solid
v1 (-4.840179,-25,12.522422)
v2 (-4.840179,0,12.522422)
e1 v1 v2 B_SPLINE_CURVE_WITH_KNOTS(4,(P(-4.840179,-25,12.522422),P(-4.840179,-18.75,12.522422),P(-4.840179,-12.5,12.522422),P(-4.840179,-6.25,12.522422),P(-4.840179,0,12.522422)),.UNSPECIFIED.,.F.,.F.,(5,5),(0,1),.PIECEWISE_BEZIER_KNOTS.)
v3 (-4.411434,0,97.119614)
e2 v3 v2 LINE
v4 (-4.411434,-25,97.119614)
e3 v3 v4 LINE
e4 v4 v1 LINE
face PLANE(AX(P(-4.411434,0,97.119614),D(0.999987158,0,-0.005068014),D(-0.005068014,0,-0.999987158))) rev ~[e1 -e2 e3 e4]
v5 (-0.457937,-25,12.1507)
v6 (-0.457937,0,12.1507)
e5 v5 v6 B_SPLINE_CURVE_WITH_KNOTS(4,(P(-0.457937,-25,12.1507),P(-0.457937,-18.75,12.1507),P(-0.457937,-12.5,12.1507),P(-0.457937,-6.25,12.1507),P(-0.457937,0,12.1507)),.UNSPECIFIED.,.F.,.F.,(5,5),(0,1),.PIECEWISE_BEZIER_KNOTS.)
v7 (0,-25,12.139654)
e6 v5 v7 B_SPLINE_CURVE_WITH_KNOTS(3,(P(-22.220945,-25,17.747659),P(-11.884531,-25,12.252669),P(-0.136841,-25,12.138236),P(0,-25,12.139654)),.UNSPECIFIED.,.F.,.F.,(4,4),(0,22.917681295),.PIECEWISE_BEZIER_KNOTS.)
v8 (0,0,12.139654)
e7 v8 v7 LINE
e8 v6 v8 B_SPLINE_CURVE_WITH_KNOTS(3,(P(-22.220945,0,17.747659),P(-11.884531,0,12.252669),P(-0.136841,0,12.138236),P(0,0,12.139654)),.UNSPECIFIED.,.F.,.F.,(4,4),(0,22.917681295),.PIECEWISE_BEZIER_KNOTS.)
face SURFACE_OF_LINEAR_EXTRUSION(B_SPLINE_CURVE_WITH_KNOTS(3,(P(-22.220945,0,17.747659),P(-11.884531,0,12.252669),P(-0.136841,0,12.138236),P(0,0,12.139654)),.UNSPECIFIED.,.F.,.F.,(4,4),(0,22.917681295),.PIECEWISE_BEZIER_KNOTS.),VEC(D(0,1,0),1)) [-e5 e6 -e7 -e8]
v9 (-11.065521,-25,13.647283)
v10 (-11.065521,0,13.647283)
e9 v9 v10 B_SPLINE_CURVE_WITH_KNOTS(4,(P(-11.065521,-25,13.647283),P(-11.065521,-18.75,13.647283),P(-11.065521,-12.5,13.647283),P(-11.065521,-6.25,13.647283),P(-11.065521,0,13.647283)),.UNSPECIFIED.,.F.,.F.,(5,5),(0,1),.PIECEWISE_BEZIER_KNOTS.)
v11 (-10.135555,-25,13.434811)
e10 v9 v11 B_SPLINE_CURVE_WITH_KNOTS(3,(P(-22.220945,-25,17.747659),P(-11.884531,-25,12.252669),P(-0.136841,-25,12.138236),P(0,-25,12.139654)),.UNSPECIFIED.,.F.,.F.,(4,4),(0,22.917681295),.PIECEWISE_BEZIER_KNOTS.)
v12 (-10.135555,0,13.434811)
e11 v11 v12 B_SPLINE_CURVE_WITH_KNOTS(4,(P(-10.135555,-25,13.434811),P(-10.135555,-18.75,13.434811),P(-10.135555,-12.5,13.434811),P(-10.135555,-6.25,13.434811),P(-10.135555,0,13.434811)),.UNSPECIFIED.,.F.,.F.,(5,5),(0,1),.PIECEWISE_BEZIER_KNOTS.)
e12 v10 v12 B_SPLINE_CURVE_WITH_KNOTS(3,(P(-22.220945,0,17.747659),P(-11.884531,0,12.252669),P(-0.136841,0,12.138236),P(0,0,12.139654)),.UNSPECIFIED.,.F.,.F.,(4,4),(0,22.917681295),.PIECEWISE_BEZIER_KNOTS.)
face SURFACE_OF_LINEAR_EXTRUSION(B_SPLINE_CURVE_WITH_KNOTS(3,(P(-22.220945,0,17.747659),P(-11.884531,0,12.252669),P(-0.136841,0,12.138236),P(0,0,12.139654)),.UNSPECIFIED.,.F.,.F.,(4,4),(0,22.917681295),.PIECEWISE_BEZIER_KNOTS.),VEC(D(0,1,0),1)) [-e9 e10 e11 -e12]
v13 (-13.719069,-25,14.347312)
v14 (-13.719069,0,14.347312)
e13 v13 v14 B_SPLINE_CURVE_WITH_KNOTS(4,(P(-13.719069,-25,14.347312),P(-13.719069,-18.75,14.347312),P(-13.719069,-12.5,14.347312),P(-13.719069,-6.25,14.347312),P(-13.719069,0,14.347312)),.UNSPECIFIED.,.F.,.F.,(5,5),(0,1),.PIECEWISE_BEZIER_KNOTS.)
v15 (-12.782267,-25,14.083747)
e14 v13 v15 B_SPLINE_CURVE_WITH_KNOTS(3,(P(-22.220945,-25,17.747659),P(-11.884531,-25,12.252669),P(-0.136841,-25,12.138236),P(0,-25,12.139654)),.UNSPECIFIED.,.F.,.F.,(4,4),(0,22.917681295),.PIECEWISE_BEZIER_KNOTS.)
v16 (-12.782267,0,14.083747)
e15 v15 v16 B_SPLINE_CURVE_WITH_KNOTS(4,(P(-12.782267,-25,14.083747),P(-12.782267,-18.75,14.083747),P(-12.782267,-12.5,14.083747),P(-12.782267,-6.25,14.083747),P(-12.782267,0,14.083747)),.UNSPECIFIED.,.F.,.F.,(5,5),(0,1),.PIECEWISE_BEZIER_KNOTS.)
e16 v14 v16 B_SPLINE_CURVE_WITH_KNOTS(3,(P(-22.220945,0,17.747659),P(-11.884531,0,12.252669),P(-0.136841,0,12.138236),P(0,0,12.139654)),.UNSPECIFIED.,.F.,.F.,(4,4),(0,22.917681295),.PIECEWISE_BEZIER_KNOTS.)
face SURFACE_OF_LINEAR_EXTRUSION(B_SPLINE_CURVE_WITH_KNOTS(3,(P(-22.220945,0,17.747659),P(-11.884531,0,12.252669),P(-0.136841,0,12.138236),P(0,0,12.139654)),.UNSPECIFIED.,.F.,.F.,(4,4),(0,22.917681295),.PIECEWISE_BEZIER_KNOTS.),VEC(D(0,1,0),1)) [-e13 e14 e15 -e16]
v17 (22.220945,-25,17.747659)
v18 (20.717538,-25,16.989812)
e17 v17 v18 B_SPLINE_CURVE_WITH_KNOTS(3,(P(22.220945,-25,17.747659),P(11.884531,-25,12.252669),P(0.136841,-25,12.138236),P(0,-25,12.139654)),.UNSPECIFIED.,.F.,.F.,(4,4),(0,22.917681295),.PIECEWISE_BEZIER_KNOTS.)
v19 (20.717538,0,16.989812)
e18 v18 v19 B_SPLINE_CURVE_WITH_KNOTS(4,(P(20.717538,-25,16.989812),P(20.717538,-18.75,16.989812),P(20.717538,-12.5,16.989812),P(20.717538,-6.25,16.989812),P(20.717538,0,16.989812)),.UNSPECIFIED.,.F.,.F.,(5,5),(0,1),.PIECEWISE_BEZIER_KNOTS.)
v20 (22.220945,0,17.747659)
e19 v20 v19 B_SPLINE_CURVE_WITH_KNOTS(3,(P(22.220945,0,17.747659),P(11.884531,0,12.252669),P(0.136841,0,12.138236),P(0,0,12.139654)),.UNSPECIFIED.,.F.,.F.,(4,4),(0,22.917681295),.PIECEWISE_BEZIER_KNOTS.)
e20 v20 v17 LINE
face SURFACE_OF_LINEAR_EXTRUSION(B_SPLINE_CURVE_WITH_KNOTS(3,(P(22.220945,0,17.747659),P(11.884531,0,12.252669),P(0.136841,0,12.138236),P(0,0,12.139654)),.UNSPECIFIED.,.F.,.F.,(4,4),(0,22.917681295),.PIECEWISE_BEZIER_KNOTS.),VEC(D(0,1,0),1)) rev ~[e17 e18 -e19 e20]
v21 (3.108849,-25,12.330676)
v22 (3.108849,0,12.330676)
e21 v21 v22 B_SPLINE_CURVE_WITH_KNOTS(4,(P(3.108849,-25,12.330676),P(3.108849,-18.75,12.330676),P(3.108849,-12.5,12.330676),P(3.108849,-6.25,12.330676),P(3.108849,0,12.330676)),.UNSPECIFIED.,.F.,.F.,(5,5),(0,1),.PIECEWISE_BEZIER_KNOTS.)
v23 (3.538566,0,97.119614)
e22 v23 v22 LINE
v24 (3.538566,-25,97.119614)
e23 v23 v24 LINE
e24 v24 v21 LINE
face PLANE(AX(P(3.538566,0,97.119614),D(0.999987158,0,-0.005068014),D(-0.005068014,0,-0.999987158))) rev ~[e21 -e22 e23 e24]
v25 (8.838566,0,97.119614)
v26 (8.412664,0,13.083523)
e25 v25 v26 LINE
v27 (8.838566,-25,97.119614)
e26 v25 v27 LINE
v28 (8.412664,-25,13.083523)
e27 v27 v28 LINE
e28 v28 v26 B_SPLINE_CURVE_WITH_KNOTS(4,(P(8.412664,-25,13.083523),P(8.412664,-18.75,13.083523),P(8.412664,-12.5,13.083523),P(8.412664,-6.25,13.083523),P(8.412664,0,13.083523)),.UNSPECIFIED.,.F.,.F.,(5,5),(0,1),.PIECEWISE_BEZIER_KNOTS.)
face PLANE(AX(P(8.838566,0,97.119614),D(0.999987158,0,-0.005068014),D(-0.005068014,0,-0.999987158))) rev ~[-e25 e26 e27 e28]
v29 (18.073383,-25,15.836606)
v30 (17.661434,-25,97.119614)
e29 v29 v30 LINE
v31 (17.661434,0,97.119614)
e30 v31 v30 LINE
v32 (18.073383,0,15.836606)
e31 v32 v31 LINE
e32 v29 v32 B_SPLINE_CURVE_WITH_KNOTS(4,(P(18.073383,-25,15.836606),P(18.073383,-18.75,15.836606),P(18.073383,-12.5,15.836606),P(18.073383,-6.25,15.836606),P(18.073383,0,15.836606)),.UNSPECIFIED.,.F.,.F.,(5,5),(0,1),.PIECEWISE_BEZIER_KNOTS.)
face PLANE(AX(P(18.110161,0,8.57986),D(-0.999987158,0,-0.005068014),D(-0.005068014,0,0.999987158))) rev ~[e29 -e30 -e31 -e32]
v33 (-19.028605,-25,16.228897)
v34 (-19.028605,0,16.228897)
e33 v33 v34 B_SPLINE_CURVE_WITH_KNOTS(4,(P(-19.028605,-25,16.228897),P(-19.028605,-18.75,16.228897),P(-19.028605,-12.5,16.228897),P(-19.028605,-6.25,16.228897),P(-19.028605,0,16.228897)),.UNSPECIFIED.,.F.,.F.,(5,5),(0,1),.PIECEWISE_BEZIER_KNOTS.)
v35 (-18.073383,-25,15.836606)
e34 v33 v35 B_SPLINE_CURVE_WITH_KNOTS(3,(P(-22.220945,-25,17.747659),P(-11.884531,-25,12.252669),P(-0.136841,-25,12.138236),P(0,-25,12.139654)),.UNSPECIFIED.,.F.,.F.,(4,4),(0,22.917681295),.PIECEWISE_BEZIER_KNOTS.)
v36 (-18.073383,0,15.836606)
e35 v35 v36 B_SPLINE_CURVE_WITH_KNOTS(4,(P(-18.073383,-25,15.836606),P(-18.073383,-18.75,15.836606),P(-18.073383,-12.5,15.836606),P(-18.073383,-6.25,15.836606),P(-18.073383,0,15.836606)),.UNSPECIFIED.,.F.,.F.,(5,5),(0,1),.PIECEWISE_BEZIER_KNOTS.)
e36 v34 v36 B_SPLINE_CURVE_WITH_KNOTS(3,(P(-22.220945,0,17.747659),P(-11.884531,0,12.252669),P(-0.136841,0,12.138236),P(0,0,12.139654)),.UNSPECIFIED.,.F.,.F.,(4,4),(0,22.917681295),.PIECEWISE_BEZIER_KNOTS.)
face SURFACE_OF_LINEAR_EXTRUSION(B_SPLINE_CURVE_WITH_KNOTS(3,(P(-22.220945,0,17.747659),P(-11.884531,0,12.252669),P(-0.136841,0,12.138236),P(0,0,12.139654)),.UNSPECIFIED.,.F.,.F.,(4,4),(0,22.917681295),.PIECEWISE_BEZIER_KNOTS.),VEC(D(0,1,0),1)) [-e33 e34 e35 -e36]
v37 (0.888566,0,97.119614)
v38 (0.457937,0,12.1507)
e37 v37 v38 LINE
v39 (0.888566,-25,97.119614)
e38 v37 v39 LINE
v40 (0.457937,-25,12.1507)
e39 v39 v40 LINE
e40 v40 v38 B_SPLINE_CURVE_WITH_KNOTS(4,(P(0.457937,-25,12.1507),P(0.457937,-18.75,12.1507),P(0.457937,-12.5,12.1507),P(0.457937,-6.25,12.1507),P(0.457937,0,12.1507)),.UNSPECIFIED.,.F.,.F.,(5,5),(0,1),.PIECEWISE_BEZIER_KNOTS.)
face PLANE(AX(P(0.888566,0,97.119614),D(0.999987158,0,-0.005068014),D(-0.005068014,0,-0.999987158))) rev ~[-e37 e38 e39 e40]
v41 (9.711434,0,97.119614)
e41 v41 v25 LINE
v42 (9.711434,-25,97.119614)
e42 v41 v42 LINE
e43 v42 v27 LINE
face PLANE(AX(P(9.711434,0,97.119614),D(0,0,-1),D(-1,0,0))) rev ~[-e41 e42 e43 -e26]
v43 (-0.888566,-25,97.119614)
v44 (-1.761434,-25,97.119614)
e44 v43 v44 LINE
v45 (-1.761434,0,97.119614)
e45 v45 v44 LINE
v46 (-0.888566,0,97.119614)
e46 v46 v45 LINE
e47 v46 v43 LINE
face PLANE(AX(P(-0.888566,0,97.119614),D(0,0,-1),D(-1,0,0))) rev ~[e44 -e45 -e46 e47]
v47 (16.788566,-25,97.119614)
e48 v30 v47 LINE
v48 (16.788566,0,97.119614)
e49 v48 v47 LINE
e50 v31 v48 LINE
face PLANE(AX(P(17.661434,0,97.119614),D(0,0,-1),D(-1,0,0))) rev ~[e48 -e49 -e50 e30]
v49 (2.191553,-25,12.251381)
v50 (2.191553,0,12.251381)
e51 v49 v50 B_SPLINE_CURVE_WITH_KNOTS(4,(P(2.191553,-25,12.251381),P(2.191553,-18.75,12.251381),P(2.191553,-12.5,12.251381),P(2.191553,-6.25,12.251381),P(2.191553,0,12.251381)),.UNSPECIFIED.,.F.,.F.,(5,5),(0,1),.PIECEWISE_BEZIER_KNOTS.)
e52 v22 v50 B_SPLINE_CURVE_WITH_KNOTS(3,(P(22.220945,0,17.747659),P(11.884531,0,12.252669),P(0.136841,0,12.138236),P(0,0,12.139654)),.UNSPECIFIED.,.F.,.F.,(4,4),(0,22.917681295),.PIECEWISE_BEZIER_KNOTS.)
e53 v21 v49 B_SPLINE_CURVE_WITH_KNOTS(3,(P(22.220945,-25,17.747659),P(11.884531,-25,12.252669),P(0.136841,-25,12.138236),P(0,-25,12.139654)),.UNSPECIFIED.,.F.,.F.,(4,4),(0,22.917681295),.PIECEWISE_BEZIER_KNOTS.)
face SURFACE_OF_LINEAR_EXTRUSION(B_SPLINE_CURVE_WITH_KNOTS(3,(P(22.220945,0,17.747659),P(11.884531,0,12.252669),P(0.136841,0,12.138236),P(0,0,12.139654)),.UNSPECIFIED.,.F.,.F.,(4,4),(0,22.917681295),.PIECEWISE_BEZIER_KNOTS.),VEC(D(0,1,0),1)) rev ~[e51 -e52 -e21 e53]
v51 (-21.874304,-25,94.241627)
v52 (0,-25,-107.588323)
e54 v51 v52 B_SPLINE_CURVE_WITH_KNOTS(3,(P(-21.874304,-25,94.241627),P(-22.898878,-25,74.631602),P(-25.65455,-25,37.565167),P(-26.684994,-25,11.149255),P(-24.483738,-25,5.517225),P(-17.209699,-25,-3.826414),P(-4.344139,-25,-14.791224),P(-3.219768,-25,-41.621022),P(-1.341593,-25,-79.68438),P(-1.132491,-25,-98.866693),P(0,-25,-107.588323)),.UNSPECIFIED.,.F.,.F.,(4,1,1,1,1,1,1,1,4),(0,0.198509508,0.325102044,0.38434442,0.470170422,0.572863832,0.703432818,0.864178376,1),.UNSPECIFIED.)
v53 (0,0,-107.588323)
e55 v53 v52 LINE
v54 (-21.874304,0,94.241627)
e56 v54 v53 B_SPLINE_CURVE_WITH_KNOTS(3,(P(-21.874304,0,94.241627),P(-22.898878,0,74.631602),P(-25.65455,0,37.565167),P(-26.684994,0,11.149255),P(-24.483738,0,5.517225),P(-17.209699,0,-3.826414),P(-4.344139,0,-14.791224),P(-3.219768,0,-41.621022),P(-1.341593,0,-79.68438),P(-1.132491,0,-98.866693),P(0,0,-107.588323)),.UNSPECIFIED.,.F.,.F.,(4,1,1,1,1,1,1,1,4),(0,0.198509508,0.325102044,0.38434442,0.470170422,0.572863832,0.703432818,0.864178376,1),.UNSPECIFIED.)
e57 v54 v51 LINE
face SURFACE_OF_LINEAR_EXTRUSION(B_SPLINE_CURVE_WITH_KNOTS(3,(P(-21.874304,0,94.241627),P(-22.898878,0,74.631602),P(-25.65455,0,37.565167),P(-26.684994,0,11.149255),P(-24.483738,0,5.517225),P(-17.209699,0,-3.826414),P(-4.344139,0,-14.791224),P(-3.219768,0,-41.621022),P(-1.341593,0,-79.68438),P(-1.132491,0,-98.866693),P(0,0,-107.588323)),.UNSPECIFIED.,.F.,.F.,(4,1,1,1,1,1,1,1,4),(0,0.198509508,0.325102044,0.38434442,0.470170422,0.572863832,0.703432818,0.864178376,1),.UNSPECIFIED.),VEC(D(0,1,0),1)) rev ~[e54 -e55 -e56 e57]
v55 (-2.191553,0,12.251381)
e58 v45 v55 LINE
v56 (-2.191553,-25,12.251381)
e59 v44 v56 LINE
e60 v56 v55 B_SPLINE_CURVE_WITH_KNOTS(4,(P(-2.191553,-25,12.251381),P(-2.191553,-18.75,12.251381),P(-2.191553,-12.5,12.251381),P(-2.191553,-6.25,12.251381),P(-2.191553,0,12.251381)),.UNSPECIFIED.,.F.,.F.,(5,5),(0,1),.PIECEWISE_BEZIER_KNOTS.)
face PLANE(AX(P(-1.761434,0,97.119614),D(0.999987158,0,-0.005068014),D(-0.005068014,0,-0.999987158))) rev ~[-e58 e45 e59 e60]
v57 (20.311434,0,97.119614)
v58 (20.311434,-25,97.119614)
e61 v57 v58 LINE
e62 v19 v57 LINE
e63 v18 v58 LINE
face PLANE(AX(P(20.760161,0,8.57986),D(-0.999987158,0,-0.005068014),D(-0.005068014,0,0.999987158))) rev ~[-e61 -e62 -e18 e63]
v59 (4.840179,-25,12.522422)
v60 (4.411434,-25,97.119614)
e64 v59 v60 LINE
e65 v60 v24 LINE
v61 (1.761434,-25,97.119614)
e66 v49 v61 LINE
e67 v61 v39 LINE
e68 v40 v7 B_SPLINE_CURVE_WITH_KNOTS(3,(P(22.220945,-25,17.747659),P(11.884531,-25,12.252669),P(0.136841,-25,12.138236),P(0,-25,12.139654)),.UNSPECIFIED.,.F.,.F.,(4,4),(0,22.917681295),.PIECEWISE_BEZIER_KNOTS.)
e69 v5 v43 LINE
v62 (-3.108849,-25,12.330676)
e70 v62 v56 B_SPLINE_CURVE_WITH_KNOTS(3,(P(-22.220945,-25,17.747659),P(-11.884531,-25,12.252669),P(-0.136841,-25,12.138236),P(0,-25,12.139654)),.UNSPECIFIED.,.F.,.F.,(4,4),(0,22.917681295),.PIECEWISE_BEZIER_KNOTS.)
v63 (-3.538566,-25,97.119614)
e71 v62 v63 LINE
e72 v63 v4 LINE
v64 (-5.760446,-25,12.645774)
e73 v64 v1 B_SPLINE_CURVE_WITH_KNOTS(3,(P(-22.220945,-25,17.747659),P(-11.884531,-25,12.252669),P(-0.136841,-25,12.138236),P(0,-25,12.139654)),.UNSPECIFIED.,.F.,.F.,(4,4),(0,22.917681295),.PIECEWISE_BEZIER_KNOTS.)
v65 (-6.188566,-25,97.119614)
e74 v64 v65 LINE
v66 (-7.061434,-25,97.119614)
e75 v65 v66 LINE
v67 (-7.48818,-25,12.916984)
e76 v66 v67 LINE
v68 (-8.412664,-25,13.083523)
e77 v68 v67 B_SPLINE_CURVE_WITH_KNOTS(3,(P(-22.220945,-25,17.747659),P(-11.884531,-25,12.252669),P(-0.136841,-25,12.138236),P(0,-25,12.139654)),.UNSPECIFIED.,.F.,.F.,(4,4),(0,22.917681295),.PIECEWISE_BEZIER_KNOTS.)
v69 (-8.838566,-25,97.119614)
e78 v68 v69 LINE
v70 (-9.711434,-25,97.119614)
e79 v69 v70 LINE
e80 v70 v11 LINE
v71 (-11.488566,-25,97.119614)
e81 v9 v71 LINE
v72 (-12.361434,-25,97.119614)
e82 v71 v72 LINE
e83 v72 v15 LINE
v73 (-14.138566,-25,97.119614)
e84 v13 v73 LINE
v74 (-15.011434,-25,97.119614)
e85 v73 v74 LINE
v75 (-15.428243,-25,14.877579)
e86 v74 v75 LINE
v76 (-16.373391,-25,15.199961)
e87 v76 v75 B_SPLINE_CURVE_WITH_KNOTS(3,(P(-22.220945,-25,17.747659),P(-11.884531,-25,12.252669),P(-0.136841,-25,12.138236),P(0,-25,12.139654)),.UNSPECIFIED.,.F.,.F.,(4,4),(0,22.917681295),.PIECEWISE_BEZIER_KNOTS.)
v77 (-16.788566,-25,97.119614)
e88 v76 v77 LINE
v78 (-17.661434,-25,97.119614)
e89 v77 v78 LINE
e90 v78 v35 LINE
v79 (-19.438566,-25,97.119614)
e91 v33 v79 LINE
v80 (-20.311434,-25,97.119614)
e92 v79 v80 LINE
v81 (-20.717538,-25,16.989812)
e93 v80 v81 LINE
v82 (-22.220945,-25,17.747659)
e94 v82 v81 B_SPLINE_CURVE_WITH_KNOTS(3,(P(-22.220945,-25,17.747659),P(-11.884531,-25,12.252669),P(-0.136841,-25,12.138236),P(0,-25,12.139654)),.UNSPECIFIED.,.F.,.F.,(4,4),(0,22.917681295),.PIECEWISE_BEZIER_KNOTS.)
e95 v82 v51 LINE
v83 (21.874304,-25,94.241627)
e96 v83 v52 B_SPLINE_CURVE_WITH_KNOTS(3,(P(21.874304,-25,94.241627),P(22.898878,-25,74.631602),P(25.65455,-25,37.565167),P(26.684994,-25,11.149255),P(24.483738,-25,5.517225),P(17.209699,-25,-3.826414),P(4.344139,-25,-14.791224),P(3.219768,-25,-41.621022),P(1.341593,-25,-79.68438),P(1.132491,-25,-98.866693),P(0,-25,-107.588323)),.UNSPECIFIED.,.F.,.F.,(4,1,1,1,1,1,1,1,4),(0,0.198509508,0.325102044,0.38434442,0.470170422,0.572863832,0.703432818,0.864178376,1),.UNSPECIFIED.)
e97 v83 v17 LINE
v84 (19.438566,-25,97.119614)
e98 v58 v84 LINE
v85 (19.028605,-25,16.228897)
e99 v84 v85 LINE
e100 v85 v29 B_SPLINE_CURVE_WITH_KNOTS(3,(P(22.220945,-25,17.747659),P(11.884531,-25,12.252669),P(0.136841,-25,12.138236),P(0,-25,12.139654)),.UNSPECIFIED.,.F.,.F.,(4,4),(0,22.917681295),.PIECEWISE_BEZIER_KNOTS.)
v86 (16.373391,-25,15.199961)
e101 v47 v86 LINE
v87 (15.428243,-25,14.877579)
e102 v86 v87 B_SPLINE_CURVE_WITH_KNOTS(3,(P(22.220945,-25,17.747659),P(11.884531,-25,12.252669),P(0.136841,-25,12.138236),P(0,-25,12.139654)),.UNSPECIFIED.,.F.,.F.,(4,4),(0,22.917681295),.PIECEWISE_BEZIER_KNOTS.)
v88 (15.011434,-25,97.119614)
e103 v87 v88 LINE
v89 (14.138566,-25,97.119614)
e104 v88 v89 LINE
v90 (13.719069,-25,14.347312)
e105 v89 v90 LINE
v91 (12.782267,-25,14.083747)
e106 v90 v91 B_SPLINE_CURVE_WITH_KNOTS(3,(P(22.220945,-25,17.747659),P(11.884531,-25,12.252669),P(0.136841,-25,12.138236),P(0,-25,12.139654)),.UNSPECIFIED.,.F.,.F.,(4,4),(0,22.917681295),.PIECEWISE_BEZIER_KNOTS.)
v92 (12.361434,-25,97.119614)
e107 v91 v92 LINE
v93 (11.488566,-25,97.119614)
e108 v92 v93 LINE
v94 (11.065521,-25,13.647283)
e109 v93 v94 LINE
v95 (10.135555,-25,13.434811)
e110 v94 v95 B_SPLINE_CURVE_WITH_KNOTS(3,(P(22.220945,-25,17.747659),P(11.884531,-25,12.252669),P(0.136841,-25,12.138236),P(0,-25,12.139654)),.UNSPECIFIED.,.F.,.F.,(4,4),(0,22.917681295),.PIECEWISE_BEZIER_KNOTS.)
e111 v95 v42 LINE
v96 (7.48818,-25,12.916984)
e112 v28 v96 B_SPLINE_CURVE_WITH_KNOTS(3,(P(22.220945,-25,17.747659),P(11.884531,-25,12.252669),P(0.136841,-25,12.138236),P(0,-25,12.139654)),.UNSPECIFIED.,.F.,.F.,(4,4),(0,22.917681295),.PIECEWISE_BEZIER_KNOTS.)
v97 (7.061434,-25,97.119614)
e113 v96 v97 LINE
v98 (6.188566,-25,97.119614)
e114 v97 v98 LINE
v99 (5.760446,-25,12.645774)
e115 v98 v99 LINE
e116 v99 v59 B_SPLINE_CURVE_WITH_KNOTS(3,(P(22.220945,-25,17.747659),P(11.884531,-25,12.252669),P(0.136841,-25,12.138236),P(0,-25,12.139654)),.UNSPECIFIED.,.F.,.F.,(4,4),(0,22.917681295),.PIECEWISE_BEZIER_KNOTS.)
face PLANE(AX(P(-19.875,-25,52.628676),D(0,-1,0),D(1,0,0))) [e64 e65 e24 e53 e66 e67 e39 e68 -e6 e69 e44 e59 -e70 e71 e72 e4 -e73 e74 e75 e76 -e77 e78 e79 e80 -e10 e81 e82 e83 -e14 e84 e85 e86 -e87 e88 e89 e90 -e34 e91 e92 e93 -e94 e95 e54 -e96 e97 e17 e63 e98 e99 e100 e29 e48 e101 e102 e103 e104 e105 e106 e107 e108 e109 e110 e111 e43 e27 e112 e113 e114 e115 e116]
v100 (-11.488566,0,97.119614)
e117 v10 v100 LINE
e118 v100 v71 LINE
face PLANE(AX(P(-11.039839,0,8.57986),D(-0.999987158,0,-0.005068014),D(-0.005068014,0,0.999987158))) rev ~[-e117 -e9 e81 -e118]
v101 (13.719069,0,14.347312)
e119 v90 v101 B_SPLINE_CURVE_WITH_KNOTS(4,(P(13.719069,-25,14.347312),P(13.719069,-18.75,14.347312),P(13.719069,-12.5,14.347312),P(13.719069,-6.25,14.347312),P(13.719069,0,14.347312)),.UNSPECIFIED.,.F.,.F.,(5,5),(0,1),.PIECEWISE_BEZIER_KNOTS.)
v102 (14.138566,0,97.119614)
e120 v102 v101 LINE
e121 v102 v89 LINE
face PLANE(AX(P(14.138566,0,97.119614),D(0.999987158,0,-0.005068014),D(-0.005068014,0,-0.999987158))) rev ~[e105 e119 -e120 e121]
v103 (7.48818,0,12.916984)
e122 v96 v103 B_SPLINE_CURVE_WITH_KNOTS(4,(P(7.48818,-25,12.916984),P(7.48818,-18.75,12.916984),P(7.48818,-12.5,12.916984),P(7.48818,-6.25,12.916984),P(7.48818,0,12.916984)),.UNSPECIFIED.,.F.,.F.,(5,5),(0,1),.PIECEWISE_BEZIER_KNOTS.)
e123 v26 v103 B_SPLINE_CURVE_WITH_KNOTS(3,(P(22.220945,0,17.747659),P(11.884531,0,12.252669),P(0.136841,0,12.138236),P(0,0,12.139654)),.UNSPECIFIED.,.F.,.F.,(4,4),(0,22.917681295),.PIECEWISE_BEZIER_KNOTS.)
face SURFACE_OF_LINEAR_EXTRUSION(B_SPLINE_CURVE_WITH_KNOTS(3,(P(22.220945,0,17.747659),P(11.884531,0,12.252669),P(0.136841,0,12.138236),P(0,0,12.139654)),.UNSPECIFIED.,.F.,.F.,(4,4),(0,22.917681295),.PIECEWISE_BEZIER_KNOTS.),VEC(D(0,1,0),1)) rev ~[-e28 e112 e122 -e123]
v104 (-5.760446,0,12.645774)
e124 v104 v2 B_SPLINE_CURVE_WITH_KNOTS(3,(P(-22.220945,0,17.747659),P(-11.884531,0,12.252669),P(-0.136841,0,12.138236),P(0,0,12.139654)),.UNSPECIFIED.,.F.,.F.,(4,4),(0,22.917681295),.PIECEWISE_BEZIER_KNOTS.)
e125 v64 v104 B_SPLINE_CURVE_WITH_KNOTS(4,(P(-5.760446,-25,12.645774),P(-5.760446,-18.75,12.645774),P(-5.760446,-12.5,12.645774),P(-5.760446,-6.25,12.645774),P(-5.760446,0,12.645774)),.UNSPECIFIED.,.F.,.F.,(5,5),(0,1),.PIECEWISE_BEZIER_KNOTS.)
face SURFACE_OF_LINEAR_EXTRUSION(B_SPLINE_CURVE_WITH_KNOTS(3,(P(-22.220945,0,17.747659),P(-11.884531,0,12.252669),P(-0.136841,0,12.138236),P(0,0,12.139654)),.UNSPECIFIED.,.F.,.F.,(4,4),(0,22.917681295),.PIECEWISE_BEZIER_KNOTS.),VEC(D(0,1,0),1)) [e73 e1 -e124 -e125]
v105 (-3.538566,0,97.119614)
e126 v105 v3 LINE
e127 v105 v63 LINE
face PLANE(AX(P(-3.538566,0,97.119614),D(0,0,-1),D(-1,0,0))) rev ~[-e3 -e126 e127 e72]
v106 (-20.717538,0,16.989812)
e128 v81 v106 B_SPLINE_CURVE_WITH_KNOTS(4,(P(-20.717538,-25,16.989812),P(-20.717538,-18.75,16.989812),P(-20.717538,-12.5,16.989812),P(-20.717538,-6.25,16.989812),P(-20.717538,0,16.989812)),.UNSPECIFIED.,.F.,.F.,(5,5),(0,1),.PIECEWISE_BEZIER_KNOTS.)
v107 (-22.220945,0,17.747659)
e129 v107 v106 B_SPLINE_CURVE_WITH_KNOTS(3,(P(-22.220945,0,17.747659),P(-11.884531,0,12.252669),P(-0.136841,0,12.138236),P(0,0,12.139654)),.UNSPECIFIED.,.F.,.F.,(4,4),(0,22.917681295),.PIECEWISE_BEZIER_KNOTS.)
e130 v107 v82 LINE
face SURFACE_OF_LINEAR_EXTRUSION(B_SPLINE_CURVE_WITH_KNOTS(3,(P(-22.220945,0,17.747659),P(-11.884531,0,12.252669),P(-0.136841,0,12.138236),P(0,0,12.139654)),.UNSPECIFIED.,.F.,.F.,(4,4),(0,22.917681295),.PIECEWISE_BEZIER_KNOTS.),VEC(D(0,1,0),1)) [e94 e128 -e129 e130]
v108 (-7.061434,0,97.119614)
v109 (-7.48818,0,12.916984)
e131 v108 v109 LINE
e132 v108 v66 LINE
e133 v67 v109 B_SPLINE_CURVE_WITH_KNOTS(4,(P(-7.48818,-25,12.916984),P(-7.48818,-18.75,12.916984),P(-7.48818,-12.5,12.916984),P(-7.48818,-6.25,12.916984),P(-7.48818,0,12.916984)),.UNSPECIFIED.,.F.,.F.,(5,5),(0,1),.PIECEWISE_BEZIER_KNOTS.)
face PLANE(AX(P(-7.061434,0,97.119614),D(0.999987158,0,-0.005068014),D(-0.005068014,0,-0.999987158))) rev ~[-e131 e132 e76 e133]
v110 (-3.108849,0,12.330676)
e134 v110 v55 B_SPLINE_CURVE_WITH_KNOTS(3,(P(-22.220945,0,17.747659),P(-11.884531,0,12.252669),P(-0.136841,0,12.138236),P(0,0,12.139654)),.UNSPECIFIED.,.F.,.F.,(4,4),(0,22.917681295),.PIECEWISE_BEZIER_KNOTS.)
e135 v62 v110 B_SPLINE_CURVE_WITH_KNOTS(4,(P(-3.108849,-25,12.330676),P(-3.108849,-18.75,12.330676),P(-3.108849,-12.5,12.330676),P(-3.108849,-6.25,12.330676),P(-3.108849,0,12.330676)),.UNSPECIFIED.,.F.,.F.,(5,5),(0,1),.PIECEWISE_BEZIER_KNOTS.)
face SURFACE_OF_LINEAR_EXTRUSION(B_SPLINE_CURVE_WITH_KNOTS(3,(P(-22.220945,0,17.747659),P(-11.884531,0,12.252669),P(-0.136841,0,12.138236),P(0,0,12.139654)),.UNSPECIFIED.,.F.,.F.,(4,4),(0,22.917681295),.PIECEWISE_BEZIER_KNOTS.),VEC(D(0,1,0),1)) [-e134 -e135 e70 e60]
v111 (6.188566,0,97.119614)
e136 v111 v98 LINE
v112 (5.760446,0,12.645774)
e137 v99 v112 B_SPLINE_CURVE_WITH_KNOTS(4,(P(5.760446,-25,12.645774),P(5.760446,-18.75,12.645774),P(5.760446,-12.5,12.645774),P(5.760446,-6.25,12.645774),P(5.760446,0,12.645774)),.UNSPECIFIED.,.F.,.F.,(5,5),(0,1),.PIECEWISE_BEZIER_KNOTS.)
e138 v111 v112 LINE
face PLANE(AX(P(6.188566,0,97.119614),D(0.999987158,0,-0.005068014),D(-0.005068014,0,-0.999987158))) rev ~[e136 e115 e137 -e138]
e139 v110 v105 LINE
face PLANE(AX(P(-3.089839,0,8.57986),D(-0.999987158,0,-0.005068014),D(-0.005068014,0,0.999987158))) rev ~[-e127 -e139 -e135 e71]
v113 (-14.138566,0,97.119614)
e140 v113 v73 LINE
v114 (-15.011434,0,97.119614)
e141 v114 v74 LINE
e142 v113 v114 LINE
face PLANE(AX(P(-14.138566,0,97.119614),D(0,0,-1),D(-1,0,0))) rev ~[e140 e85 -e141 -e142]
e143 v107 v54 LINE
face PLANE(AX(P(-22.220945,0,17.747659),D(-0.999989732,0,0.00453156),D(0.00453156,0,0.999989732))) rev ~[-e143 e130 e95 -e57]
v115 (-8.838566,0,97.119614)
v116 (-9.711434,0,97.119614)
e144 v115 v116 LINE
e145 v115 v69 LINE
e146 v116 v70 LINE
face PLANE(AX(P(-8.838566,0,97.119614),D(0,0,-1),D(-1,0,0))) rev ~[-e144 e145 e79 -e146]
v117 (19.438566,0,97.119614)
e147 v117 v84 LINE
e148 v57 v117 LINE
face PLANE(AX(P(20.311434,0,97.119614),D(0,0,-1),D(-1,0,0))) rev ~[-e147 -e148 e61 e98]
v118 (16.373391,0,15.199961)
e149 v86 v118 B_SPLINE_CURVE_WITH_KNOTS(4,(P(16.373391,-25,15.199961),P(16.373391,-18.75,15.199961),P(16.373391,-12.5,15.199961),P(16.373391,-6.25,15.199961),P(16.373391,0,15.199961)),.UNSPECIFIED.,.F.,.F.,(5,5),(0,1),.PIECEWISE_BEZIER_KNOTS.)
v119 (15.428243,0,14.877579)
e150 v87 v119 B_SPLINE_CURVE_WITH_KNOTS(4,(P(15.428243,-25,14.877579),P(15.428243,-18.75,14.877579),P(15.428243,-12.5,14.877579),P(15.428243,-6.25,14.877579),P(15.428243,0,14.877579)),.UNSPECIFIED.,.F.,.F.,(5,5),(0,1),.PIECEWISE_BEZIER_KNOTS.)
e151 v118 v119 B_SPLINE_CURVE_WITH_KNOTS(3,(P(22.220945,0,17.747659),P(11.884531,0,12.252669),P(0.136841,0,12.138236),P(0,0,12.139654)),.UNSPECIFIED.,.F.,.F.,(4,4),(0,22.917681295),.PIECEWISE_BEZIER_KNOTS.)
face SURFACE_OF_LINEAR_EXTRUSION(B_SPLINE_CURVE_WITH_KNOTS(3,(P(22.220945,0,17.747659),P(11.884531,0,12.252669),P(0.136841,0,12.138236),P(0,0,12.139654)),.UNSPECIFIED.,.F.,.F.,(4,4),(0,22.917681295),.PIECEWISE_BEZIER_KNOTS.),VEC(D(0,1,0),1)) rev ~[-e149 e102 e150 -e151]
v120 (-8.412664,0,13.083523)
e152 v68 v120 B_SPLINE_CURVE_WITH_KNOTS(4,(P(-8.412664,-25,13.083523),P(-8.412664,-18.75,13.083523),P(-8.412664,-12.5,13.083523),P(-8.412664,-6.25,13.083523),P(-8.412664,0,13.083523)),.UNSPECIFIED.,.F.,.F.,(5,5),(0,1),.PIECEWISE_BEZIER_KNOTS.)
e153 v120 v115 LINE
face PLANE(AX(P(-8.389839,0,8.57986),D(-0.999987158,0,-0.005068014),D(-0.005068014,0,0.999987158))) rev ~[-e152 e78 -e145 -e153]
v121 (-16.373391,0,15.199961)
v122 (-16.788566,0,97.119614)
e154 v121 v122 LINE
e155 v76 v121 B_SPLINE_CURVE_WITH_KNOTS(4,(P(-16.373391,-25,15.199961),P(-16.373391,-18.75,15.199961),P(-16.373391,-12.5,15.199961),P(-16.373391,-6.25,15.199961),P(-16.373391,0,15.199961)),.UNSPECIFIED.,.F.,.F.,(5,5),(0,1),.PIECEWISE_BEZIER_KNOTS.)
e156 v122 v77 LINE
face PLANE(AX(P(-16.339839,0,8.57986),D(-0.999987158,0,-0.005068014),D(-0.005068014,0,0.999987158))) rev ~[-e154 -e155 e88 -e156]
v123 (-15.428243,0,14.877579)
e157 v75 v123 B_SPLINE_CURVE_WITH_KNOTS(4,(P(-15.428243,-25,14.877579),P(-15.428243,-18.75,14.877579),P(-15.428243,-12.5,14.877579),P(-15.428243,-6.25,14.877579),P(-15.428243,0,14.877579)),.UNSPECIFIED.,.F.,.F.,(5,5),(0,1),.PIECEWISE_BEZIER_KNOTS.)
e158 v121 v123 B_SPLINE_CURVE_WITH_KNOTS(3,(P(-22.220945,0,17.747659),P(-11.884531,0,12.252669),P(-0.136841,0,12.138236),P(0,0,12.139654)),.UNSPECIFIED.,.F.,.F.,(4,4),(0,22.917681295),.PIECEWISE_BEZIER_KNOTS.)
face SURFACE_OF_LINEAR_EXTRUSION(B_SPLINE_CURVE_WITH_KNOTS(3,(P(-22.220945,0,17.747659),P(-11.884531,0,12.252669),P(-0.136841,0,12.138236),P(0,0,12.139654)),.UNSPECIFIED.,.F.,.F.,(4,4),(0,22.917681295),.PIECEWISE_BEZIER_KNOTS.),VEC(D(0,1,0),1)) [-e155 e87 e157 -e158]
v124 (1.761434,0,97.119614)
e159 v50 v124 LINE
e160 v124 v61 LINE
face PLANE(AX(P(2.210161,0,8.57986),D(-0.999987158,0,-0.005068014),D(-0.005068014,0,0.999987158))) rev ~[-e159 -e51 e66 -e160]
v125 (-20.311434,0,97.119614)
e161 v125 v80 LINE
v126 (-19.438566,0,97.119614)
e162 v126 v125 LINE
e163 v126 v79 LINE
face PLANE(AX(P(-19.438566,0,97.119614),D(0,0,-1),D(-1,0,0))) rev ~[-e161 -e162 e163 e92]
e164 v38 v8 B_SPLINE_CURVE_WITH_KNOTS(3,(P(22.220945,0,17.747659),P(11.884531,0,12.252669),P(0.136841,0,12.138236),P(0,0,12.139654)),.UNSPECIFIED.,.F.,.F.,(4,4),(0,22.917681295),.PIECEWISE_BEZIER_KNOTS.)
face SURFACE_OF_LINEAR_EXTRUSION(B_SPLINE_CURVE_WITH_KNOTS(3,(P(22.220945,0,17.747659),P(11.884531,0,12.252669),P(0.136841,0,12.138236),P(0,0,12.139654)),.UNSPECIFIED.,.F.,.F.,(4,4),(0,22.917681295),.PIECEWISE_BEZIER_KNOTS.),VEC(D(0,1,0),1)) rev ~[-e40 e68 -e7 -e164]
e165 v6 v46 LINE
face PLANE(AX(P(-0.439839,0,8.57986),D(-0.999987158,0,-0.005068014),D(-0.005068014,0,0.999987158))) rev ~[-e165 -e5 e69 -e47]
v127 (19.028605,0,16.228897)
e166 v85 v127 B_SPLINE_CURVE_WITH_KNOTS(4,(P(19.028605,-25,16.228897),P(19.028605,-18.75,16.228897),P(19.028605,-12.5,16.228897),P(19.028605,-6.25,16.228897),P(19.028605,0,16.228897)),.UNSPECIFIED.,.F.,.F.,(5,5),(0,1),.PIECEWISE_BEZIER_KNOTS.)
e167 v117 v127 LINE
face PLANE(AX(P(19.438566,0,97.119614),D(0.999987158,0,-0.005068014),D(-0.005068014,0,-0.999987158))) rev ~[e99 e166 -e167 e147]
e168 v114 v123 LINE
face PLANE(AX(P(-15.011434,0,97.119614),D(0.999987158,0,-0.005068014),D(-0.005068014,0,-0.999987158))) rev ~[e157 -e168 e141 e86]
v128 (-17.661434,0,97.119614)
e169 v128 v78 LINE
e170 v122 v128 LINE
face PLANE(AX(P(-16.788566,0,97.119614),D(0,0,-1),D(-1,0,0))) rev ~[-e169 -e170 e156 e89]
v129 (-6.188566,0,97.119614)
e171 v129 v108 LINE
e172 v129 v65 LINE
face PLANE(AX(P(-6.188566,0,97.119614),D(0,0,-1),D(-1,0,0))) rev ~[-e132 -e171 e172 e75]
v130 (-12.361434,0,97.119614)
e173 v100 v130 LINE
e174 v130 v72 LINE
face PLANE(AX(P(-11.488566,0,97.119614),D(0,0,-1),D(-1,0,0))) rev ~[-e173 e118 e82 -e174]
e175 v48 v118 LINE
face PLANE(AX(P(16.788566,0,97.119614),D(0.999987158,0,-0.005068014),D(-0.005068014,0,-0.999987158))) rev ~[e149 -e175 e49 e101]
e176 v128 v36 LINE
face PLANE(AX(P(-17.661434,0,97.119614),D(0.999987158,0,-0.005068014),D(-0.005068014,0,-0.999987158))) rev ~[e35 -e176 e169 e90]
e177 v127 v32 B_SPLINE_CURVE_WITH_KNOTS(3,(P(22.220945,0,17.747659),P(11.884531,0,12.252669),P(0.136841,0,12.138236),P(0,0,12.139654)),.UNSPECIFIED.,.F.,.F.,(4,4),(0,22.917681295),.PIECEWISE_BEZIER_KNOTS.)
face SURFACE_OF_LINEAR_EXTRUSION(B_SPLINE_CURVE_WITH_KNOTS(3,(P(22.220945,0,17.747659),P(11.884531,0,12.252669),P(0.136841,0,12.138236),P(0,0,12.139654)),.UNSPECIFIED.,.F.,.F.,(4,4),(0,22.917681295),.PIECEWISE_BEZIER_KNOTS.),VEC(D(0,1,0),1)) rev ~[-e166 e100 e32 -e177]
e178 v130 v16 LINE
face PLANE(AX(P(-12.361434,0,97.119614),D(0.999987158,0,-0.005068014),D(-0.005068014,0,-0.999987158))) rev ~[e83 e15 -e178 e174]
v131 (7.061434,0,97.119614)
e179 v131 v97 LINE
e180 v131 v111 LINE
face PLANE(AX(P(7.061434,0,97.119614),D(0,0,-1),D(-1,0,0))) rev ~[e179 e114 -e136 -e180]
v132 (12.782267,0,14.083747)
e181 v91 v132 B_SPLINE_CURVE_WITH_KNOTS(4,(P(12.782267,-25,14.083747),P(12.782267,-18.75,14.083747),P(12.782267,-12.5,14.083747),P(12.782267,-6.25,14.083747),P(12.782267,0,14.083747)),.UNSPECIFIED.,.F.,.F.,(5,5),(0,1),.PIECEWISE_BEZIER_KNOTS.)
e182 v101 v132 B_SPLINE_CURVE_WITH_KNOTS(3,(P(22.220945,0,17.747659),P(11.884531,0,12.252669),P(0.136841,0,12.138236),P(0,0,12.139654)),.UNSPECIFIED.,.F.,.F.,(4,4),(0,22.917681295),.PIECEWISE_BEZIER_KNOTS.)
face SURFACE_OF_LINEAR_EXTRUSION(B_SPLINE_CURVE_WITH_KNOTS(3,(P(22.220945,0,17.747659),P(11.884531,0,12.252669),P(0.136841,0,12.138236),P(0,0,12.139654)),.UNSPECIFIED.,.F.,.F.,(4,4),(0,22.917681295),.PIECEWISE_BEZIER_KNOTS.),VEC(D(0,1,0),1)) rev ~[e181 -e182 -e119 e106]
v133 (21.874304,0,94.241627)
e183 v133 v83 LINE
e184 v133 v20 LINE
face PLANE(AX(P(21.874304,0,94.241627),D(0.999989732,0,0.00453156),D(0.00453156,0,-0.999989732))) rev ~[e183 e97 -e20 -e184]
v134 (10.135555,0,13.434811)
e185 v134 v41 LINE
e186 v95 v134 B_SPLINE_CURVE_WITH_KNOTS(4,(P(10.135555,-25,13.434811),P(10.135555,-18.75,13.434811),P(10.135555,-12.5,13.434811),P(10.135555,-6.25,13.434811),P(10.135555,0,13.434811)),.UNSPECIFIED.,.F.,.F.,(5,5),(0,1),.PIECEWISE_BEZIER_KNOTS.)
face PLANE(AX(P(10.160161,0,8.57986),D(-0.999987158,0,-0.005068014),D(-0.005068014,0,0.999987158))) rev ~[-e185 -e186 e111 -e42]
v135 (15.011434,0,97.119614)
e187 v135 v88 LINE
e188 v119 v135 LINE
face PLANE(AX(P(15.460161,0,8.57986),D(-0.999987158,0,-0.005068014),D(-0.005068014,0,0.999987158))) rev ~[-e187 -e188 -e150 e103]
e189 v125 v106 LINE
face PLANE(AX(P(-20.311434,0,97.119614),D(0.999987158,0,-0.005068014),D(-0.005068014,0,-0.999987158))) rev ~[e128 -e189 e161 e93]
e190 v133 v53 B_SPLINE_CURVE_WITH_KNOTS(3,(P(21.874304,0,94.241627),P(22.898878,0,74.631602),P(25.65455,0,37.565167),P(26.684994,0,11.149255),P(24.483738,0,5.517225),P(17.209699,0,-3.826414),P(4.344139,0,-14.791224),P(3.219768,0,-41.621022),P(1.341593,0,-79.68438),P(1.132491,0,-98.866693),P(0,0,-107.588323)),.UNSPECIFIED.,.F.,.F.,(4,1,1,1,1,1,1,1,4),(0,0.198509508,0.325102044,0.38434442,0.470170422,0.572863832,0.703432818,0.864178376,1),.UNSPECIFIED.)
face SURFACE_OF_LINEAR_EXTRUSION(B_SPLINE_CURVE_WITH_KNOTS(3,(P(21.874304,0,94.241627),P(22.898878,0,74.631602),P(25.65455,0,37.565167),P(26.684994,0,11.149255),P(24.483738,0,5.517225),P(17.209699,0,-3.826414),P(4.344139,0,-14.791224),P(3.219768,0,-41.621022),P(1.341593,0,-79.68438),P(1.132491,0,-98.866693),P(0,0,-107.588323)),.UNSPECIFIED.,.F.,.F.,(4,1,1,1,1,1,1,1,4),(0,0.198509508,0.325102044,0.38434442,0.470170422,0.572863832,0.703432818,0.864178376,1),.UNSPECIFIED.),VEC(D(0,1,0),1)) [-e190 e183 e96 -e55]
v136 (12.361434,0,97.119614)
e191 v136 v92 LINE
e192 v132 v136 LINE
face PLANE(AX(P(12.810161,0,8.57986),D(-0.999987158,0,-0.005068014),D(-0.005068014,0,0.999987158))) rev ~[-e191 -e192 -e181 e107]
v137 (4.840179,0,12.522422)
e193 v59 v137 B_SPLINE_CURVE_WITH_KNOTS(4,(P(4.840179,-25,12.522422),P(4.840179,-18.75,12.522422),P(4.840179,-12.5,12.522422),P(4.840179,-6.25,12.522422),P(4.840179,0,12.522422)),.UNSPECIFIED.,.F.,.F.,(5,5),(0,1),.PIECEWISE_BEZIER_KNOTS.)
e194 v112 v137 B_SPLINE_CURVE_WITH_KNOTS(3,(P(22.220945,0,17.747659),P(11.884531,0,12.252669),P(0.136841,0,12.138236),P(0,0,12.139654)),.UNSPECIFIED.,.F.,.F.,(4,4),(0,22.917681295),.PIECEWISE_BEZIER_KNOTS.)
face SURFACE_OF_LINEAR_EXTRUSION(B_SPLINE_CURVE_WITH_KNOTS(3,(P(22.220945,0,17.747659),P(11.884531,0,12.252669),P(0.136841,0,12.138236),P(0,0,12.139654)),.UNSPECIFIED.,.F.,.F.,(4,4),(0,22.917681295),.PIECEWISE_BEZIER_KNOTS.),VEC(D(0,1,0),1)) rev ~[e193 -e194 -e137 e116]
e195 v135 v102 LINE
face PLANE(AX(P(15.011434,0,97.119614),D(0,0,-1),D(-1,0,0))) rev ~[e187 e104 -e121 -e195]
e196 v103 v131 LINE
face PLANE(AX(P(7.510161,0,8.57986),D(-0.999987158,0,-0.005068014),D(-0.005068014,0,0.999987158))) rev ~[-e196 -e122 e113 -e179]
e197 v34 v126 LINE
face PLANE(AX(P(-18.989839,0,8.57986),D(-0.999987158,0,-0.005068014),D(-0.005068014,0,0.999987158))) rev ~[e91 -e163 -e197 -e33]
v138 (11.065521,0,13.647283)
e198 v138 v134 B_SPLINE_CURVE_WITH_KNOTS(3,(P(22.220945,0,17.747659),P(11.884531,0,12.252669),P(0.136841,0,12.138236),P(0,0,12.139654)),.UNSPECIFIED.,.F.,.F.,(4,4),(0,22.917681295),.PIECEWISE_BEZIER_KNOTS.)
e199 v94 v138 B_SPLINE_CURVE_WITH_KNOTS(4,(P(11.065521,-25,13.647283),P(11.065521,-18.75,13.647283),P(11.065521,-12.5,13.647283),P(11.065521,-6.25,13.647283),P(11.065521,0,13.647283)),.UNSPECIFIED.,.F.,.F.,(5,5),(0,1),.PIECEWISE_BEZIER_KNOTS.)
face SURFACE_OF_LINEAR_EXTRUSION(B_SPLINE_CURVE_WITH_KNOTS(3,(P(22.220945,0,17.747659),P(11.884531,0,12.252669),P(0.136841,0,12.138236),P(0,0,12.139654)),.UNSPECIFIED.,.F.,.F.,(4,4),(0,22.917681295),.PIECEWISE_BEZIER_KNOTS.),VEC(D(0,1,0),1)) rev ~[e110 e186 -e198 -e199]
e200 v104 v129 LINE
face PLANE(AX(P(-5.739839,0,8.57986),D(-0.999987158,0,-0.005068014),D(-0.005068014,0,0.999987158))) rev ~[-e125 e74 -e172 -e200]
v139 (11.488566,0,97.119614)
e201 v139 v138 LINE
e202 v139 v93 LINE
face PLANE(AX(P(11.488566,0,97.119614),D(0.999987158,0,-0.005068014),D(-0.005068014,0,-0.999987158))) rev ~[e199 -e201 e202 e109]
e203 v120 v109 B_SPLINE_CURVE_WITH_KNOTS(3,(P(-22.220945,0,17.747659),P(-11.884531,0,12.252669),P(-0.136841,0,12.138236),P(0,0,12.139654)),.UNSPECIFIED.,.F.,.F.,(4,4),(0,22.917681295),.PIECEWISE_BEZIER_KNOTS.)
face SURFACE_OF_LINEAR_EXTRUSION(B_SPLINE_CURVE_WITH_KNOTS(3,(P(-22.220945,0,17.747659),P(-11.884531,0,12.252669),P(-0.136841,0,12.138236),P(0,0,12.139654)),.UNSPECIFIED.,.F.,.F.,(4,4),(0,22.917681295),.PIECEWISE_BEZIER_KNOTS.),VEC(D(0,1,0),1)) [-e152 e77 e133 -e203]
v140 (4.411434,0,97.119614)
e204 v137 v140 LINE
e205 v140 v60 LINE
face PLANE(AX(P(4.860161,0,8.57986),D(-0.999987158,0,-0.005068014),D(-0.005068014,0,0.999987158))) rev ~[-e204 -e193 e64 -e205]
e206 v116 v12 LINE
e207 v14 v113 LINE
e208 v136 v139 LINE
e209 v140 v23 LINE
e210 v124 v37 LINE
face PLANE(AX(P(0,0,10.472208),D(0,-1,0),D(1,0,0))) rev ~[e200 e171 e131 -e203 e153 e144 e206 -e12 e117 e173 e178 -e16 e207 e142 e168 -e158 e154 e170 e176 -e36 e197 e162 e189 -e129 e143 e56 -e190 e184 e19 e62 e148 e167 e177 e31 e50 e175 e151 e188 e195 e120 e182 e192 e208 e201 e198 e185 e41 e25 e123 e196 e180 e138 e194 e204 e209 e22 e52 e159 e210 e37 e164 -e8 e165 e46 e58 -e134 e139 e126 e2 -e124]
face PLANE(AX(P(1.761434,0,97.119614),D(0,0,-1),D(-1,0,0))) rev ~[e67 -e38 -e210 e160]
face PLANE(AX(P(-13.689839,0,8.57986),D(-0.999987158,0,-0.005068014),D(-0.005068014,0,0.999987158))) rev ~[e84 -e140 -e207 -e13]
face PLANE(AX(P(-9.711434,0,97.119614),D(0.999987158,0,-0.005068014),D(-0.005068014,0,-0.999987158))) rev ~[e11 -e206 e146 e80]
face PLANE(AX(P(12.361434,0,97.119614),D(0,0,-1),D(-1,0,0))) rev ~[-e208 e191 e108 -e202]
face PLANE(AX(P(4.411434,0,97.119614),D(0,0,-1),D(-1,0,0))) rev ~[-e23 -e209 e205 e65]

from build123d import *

# Parameters (mm, degrees)
F2_DEPTH = 25
F3_DEPTH = 25


with BuildPart() as f2:
    # F0 (on Front) → F2 (new body)
    with BuildSketch(Plane.XZ):
        with BuildLine():
            Line((-22.2209449857, 17.7476592362), (-21.8743043952, 94.2416265607))
            add(Edge.make_bspline(
                [(-21.8743043952, 94.2416265607), (-22.8988784072, 74.6316019931), (-25.6545503488, 37.5651671373), (-26.6849941365, 11.1492550863), (-24.4837383509, 5.5172249928), (-17.2096985685, -3.8264135224), (-4.3441389043, -14.7912238616), (-3.2197684522, -41.6210216982), (-1.3415933361, -79.6843798665), (-1.1324912032, -98.8666928387), (0, -107.5883227808)],
                knots=[0, 0, 0, 0, 0.1985095083, 0.3251020439, 0.3843444203, 0.4701704217, 0.5728638316, 0.7034328182, 0.8641783758, 1, 1, 1, 1], degree=3))
            add(Edge.make_bspline(
                [(21.8743043952, 94.2416265607), (22.8988784072, 74.6316019931), (25.6545503488, 37.5651671373), (26.6849941365, 11.1492550863), (24.4837383509, 5.5172249928), (17.2096985685, -3.8264135224), (4.3441389043, -14.7912238616), (3.2197684522, -41.6210216982), (1.3415933361, -79.6843798665), (1.1324912032, -98.8666928387), (0, -107.5883227808)],
                knots=[0, 0, 0, 0, 0.1985095083, 0.3251020439, 0.3843444203, 0.4701704217, 0.5728638316, 0.7034328182, 0.8641783758, 1, 1, 1, 1], degree=3))
            Line((21.8743043952, 94.2416265607), (22.2209449857, 17.7476592362))
            add(Edge.make_bspline(
                [(22.2209449857, 17.7476592362), (11.8845314719, 12.2526693158), (0.1368414014, 12.1382363141), (0, 12.1396542527)],
                knots=[0, 0, 0, 0, 22.9176812953, 22.9176812953, 22.9176812953, 22.9176812953], degree=3))
            add(Edge.make_bspline(
                [(-22.2209449857, 17.7476592362), (-11.8845314719, 12.2526693158), (-0.1368414014, 12.1382363141), (0, 12.1396542527)],
                knots=[0, 0, 0, 0, 22.9176812953, 22.9176812953, 22.9176812953, 22.9176812953], degree=3))
        make_face()
    extrude(amount=F2_DEPTH)

    # F1 (on Front) → F3 (join)
    with BuildSketch(Plane.XZ):
        Polygon((-20.7601606414, 8.5798595101), (-18.9898393586, 8.5798595101), (-19.438565827, 97.1196144819), (-20.311434173, 97.1196144819), align=None)
        Polygon((-18.1101606414, 8.5798595101), (-16.3398393586, 8.5798595101), (-16.788565827, 97.1196144819), (-17.661434173, 97.1196144819), align=None)
        Polygon((-15.4601606414, 8.5798595101), (-13.6898393586, 8.5798595101), (-14.138565827, 97.1196144819), (-15.011434173, 97.1196144819), align=None)
        Polygon((-12.8101606414, 8.5798595101), (-11.0398393586, 8.5798595101), (-11.488565827, 97.1196144819), (-12.361434173, 97.1196144819), align=None)
        Polygon((-10.1601606414, 8.5798595101), (-8.3898393586, 8.5798595101), (-8.838565827, 97.1196144819), (-9.711434173, 97.1196144819), align=None)
        Polygon((-7.5101606414, 8.5798595101), (-5.7398393586, 8.5798595101), (-6.188565827, 97.1196144819), (-7.061434173, 97.1196144819), align=None)
        Polygon((-4.8601606414, 8.5798595101), (-3.0898393586, 8.5798595101), (-3.538565827, 97.1196144819), (-4.411434173, 97.1196144819), align=None)
        Polygon((-2.2101606414, 8.5798595101), (-0.4398393586, 8.5798595101), (-0.888565827, 97.1196144819), (-1.761434173, 97.1196144819), align=None)
        Polygon((0.4398393586, 8.5798595101), (2.2101606414, 8.5798595101), (1.761434173, 97.1196144819), (0.888565827, 97.1196144819), align=None)
        Polygon((3.0898393586, 8.5798595101), (4.8601606414, 8.5798595101), (4.411434173, 97.1196144819), (3.538565827, 97.1196144819), align=None)
        Polygon((5.7398393586, 8.5798595101), (7.5101606414, 8.5798595101), (7.061434173, 97.1196144819), (6.188565827, 97.1196144819), align=None)
        Polygon((8.3898393586, 8.5798595101), (10.1601606414, 8.5798595101), (9.711434173, 97.1196144819), (8.838565827, 97.1196144819), align=None)
        Polygon((11.0398393586, 8.5798595101), (12.8101606414, 8.5798595101), (12.361434173, 97.1196144819), (11.488565827, 97.1196144819), align=None)
        Polygon((13.6898393586, 8.5798595101), (15.4601606414, 8.5798595101), (15.011434173, 97.1196144819), (14.138565827, 97.1196144819), align=None)
        Polygon((16.3398393586, 8.5798595101), (18.1101606414, 8.5798595101), (17.661434173, 97.1196144819), (16.788565827, 97.1196144819), align=None)
        Polygon((18.9898393586, 8.5798595101), (20.7601606414, 8.5798595101), (20.311434173, 97.1196144819), (19.438565827, 97.1196144819), align=None)
    extrude(amount=F3_DEPTH)


solid = f2.part
